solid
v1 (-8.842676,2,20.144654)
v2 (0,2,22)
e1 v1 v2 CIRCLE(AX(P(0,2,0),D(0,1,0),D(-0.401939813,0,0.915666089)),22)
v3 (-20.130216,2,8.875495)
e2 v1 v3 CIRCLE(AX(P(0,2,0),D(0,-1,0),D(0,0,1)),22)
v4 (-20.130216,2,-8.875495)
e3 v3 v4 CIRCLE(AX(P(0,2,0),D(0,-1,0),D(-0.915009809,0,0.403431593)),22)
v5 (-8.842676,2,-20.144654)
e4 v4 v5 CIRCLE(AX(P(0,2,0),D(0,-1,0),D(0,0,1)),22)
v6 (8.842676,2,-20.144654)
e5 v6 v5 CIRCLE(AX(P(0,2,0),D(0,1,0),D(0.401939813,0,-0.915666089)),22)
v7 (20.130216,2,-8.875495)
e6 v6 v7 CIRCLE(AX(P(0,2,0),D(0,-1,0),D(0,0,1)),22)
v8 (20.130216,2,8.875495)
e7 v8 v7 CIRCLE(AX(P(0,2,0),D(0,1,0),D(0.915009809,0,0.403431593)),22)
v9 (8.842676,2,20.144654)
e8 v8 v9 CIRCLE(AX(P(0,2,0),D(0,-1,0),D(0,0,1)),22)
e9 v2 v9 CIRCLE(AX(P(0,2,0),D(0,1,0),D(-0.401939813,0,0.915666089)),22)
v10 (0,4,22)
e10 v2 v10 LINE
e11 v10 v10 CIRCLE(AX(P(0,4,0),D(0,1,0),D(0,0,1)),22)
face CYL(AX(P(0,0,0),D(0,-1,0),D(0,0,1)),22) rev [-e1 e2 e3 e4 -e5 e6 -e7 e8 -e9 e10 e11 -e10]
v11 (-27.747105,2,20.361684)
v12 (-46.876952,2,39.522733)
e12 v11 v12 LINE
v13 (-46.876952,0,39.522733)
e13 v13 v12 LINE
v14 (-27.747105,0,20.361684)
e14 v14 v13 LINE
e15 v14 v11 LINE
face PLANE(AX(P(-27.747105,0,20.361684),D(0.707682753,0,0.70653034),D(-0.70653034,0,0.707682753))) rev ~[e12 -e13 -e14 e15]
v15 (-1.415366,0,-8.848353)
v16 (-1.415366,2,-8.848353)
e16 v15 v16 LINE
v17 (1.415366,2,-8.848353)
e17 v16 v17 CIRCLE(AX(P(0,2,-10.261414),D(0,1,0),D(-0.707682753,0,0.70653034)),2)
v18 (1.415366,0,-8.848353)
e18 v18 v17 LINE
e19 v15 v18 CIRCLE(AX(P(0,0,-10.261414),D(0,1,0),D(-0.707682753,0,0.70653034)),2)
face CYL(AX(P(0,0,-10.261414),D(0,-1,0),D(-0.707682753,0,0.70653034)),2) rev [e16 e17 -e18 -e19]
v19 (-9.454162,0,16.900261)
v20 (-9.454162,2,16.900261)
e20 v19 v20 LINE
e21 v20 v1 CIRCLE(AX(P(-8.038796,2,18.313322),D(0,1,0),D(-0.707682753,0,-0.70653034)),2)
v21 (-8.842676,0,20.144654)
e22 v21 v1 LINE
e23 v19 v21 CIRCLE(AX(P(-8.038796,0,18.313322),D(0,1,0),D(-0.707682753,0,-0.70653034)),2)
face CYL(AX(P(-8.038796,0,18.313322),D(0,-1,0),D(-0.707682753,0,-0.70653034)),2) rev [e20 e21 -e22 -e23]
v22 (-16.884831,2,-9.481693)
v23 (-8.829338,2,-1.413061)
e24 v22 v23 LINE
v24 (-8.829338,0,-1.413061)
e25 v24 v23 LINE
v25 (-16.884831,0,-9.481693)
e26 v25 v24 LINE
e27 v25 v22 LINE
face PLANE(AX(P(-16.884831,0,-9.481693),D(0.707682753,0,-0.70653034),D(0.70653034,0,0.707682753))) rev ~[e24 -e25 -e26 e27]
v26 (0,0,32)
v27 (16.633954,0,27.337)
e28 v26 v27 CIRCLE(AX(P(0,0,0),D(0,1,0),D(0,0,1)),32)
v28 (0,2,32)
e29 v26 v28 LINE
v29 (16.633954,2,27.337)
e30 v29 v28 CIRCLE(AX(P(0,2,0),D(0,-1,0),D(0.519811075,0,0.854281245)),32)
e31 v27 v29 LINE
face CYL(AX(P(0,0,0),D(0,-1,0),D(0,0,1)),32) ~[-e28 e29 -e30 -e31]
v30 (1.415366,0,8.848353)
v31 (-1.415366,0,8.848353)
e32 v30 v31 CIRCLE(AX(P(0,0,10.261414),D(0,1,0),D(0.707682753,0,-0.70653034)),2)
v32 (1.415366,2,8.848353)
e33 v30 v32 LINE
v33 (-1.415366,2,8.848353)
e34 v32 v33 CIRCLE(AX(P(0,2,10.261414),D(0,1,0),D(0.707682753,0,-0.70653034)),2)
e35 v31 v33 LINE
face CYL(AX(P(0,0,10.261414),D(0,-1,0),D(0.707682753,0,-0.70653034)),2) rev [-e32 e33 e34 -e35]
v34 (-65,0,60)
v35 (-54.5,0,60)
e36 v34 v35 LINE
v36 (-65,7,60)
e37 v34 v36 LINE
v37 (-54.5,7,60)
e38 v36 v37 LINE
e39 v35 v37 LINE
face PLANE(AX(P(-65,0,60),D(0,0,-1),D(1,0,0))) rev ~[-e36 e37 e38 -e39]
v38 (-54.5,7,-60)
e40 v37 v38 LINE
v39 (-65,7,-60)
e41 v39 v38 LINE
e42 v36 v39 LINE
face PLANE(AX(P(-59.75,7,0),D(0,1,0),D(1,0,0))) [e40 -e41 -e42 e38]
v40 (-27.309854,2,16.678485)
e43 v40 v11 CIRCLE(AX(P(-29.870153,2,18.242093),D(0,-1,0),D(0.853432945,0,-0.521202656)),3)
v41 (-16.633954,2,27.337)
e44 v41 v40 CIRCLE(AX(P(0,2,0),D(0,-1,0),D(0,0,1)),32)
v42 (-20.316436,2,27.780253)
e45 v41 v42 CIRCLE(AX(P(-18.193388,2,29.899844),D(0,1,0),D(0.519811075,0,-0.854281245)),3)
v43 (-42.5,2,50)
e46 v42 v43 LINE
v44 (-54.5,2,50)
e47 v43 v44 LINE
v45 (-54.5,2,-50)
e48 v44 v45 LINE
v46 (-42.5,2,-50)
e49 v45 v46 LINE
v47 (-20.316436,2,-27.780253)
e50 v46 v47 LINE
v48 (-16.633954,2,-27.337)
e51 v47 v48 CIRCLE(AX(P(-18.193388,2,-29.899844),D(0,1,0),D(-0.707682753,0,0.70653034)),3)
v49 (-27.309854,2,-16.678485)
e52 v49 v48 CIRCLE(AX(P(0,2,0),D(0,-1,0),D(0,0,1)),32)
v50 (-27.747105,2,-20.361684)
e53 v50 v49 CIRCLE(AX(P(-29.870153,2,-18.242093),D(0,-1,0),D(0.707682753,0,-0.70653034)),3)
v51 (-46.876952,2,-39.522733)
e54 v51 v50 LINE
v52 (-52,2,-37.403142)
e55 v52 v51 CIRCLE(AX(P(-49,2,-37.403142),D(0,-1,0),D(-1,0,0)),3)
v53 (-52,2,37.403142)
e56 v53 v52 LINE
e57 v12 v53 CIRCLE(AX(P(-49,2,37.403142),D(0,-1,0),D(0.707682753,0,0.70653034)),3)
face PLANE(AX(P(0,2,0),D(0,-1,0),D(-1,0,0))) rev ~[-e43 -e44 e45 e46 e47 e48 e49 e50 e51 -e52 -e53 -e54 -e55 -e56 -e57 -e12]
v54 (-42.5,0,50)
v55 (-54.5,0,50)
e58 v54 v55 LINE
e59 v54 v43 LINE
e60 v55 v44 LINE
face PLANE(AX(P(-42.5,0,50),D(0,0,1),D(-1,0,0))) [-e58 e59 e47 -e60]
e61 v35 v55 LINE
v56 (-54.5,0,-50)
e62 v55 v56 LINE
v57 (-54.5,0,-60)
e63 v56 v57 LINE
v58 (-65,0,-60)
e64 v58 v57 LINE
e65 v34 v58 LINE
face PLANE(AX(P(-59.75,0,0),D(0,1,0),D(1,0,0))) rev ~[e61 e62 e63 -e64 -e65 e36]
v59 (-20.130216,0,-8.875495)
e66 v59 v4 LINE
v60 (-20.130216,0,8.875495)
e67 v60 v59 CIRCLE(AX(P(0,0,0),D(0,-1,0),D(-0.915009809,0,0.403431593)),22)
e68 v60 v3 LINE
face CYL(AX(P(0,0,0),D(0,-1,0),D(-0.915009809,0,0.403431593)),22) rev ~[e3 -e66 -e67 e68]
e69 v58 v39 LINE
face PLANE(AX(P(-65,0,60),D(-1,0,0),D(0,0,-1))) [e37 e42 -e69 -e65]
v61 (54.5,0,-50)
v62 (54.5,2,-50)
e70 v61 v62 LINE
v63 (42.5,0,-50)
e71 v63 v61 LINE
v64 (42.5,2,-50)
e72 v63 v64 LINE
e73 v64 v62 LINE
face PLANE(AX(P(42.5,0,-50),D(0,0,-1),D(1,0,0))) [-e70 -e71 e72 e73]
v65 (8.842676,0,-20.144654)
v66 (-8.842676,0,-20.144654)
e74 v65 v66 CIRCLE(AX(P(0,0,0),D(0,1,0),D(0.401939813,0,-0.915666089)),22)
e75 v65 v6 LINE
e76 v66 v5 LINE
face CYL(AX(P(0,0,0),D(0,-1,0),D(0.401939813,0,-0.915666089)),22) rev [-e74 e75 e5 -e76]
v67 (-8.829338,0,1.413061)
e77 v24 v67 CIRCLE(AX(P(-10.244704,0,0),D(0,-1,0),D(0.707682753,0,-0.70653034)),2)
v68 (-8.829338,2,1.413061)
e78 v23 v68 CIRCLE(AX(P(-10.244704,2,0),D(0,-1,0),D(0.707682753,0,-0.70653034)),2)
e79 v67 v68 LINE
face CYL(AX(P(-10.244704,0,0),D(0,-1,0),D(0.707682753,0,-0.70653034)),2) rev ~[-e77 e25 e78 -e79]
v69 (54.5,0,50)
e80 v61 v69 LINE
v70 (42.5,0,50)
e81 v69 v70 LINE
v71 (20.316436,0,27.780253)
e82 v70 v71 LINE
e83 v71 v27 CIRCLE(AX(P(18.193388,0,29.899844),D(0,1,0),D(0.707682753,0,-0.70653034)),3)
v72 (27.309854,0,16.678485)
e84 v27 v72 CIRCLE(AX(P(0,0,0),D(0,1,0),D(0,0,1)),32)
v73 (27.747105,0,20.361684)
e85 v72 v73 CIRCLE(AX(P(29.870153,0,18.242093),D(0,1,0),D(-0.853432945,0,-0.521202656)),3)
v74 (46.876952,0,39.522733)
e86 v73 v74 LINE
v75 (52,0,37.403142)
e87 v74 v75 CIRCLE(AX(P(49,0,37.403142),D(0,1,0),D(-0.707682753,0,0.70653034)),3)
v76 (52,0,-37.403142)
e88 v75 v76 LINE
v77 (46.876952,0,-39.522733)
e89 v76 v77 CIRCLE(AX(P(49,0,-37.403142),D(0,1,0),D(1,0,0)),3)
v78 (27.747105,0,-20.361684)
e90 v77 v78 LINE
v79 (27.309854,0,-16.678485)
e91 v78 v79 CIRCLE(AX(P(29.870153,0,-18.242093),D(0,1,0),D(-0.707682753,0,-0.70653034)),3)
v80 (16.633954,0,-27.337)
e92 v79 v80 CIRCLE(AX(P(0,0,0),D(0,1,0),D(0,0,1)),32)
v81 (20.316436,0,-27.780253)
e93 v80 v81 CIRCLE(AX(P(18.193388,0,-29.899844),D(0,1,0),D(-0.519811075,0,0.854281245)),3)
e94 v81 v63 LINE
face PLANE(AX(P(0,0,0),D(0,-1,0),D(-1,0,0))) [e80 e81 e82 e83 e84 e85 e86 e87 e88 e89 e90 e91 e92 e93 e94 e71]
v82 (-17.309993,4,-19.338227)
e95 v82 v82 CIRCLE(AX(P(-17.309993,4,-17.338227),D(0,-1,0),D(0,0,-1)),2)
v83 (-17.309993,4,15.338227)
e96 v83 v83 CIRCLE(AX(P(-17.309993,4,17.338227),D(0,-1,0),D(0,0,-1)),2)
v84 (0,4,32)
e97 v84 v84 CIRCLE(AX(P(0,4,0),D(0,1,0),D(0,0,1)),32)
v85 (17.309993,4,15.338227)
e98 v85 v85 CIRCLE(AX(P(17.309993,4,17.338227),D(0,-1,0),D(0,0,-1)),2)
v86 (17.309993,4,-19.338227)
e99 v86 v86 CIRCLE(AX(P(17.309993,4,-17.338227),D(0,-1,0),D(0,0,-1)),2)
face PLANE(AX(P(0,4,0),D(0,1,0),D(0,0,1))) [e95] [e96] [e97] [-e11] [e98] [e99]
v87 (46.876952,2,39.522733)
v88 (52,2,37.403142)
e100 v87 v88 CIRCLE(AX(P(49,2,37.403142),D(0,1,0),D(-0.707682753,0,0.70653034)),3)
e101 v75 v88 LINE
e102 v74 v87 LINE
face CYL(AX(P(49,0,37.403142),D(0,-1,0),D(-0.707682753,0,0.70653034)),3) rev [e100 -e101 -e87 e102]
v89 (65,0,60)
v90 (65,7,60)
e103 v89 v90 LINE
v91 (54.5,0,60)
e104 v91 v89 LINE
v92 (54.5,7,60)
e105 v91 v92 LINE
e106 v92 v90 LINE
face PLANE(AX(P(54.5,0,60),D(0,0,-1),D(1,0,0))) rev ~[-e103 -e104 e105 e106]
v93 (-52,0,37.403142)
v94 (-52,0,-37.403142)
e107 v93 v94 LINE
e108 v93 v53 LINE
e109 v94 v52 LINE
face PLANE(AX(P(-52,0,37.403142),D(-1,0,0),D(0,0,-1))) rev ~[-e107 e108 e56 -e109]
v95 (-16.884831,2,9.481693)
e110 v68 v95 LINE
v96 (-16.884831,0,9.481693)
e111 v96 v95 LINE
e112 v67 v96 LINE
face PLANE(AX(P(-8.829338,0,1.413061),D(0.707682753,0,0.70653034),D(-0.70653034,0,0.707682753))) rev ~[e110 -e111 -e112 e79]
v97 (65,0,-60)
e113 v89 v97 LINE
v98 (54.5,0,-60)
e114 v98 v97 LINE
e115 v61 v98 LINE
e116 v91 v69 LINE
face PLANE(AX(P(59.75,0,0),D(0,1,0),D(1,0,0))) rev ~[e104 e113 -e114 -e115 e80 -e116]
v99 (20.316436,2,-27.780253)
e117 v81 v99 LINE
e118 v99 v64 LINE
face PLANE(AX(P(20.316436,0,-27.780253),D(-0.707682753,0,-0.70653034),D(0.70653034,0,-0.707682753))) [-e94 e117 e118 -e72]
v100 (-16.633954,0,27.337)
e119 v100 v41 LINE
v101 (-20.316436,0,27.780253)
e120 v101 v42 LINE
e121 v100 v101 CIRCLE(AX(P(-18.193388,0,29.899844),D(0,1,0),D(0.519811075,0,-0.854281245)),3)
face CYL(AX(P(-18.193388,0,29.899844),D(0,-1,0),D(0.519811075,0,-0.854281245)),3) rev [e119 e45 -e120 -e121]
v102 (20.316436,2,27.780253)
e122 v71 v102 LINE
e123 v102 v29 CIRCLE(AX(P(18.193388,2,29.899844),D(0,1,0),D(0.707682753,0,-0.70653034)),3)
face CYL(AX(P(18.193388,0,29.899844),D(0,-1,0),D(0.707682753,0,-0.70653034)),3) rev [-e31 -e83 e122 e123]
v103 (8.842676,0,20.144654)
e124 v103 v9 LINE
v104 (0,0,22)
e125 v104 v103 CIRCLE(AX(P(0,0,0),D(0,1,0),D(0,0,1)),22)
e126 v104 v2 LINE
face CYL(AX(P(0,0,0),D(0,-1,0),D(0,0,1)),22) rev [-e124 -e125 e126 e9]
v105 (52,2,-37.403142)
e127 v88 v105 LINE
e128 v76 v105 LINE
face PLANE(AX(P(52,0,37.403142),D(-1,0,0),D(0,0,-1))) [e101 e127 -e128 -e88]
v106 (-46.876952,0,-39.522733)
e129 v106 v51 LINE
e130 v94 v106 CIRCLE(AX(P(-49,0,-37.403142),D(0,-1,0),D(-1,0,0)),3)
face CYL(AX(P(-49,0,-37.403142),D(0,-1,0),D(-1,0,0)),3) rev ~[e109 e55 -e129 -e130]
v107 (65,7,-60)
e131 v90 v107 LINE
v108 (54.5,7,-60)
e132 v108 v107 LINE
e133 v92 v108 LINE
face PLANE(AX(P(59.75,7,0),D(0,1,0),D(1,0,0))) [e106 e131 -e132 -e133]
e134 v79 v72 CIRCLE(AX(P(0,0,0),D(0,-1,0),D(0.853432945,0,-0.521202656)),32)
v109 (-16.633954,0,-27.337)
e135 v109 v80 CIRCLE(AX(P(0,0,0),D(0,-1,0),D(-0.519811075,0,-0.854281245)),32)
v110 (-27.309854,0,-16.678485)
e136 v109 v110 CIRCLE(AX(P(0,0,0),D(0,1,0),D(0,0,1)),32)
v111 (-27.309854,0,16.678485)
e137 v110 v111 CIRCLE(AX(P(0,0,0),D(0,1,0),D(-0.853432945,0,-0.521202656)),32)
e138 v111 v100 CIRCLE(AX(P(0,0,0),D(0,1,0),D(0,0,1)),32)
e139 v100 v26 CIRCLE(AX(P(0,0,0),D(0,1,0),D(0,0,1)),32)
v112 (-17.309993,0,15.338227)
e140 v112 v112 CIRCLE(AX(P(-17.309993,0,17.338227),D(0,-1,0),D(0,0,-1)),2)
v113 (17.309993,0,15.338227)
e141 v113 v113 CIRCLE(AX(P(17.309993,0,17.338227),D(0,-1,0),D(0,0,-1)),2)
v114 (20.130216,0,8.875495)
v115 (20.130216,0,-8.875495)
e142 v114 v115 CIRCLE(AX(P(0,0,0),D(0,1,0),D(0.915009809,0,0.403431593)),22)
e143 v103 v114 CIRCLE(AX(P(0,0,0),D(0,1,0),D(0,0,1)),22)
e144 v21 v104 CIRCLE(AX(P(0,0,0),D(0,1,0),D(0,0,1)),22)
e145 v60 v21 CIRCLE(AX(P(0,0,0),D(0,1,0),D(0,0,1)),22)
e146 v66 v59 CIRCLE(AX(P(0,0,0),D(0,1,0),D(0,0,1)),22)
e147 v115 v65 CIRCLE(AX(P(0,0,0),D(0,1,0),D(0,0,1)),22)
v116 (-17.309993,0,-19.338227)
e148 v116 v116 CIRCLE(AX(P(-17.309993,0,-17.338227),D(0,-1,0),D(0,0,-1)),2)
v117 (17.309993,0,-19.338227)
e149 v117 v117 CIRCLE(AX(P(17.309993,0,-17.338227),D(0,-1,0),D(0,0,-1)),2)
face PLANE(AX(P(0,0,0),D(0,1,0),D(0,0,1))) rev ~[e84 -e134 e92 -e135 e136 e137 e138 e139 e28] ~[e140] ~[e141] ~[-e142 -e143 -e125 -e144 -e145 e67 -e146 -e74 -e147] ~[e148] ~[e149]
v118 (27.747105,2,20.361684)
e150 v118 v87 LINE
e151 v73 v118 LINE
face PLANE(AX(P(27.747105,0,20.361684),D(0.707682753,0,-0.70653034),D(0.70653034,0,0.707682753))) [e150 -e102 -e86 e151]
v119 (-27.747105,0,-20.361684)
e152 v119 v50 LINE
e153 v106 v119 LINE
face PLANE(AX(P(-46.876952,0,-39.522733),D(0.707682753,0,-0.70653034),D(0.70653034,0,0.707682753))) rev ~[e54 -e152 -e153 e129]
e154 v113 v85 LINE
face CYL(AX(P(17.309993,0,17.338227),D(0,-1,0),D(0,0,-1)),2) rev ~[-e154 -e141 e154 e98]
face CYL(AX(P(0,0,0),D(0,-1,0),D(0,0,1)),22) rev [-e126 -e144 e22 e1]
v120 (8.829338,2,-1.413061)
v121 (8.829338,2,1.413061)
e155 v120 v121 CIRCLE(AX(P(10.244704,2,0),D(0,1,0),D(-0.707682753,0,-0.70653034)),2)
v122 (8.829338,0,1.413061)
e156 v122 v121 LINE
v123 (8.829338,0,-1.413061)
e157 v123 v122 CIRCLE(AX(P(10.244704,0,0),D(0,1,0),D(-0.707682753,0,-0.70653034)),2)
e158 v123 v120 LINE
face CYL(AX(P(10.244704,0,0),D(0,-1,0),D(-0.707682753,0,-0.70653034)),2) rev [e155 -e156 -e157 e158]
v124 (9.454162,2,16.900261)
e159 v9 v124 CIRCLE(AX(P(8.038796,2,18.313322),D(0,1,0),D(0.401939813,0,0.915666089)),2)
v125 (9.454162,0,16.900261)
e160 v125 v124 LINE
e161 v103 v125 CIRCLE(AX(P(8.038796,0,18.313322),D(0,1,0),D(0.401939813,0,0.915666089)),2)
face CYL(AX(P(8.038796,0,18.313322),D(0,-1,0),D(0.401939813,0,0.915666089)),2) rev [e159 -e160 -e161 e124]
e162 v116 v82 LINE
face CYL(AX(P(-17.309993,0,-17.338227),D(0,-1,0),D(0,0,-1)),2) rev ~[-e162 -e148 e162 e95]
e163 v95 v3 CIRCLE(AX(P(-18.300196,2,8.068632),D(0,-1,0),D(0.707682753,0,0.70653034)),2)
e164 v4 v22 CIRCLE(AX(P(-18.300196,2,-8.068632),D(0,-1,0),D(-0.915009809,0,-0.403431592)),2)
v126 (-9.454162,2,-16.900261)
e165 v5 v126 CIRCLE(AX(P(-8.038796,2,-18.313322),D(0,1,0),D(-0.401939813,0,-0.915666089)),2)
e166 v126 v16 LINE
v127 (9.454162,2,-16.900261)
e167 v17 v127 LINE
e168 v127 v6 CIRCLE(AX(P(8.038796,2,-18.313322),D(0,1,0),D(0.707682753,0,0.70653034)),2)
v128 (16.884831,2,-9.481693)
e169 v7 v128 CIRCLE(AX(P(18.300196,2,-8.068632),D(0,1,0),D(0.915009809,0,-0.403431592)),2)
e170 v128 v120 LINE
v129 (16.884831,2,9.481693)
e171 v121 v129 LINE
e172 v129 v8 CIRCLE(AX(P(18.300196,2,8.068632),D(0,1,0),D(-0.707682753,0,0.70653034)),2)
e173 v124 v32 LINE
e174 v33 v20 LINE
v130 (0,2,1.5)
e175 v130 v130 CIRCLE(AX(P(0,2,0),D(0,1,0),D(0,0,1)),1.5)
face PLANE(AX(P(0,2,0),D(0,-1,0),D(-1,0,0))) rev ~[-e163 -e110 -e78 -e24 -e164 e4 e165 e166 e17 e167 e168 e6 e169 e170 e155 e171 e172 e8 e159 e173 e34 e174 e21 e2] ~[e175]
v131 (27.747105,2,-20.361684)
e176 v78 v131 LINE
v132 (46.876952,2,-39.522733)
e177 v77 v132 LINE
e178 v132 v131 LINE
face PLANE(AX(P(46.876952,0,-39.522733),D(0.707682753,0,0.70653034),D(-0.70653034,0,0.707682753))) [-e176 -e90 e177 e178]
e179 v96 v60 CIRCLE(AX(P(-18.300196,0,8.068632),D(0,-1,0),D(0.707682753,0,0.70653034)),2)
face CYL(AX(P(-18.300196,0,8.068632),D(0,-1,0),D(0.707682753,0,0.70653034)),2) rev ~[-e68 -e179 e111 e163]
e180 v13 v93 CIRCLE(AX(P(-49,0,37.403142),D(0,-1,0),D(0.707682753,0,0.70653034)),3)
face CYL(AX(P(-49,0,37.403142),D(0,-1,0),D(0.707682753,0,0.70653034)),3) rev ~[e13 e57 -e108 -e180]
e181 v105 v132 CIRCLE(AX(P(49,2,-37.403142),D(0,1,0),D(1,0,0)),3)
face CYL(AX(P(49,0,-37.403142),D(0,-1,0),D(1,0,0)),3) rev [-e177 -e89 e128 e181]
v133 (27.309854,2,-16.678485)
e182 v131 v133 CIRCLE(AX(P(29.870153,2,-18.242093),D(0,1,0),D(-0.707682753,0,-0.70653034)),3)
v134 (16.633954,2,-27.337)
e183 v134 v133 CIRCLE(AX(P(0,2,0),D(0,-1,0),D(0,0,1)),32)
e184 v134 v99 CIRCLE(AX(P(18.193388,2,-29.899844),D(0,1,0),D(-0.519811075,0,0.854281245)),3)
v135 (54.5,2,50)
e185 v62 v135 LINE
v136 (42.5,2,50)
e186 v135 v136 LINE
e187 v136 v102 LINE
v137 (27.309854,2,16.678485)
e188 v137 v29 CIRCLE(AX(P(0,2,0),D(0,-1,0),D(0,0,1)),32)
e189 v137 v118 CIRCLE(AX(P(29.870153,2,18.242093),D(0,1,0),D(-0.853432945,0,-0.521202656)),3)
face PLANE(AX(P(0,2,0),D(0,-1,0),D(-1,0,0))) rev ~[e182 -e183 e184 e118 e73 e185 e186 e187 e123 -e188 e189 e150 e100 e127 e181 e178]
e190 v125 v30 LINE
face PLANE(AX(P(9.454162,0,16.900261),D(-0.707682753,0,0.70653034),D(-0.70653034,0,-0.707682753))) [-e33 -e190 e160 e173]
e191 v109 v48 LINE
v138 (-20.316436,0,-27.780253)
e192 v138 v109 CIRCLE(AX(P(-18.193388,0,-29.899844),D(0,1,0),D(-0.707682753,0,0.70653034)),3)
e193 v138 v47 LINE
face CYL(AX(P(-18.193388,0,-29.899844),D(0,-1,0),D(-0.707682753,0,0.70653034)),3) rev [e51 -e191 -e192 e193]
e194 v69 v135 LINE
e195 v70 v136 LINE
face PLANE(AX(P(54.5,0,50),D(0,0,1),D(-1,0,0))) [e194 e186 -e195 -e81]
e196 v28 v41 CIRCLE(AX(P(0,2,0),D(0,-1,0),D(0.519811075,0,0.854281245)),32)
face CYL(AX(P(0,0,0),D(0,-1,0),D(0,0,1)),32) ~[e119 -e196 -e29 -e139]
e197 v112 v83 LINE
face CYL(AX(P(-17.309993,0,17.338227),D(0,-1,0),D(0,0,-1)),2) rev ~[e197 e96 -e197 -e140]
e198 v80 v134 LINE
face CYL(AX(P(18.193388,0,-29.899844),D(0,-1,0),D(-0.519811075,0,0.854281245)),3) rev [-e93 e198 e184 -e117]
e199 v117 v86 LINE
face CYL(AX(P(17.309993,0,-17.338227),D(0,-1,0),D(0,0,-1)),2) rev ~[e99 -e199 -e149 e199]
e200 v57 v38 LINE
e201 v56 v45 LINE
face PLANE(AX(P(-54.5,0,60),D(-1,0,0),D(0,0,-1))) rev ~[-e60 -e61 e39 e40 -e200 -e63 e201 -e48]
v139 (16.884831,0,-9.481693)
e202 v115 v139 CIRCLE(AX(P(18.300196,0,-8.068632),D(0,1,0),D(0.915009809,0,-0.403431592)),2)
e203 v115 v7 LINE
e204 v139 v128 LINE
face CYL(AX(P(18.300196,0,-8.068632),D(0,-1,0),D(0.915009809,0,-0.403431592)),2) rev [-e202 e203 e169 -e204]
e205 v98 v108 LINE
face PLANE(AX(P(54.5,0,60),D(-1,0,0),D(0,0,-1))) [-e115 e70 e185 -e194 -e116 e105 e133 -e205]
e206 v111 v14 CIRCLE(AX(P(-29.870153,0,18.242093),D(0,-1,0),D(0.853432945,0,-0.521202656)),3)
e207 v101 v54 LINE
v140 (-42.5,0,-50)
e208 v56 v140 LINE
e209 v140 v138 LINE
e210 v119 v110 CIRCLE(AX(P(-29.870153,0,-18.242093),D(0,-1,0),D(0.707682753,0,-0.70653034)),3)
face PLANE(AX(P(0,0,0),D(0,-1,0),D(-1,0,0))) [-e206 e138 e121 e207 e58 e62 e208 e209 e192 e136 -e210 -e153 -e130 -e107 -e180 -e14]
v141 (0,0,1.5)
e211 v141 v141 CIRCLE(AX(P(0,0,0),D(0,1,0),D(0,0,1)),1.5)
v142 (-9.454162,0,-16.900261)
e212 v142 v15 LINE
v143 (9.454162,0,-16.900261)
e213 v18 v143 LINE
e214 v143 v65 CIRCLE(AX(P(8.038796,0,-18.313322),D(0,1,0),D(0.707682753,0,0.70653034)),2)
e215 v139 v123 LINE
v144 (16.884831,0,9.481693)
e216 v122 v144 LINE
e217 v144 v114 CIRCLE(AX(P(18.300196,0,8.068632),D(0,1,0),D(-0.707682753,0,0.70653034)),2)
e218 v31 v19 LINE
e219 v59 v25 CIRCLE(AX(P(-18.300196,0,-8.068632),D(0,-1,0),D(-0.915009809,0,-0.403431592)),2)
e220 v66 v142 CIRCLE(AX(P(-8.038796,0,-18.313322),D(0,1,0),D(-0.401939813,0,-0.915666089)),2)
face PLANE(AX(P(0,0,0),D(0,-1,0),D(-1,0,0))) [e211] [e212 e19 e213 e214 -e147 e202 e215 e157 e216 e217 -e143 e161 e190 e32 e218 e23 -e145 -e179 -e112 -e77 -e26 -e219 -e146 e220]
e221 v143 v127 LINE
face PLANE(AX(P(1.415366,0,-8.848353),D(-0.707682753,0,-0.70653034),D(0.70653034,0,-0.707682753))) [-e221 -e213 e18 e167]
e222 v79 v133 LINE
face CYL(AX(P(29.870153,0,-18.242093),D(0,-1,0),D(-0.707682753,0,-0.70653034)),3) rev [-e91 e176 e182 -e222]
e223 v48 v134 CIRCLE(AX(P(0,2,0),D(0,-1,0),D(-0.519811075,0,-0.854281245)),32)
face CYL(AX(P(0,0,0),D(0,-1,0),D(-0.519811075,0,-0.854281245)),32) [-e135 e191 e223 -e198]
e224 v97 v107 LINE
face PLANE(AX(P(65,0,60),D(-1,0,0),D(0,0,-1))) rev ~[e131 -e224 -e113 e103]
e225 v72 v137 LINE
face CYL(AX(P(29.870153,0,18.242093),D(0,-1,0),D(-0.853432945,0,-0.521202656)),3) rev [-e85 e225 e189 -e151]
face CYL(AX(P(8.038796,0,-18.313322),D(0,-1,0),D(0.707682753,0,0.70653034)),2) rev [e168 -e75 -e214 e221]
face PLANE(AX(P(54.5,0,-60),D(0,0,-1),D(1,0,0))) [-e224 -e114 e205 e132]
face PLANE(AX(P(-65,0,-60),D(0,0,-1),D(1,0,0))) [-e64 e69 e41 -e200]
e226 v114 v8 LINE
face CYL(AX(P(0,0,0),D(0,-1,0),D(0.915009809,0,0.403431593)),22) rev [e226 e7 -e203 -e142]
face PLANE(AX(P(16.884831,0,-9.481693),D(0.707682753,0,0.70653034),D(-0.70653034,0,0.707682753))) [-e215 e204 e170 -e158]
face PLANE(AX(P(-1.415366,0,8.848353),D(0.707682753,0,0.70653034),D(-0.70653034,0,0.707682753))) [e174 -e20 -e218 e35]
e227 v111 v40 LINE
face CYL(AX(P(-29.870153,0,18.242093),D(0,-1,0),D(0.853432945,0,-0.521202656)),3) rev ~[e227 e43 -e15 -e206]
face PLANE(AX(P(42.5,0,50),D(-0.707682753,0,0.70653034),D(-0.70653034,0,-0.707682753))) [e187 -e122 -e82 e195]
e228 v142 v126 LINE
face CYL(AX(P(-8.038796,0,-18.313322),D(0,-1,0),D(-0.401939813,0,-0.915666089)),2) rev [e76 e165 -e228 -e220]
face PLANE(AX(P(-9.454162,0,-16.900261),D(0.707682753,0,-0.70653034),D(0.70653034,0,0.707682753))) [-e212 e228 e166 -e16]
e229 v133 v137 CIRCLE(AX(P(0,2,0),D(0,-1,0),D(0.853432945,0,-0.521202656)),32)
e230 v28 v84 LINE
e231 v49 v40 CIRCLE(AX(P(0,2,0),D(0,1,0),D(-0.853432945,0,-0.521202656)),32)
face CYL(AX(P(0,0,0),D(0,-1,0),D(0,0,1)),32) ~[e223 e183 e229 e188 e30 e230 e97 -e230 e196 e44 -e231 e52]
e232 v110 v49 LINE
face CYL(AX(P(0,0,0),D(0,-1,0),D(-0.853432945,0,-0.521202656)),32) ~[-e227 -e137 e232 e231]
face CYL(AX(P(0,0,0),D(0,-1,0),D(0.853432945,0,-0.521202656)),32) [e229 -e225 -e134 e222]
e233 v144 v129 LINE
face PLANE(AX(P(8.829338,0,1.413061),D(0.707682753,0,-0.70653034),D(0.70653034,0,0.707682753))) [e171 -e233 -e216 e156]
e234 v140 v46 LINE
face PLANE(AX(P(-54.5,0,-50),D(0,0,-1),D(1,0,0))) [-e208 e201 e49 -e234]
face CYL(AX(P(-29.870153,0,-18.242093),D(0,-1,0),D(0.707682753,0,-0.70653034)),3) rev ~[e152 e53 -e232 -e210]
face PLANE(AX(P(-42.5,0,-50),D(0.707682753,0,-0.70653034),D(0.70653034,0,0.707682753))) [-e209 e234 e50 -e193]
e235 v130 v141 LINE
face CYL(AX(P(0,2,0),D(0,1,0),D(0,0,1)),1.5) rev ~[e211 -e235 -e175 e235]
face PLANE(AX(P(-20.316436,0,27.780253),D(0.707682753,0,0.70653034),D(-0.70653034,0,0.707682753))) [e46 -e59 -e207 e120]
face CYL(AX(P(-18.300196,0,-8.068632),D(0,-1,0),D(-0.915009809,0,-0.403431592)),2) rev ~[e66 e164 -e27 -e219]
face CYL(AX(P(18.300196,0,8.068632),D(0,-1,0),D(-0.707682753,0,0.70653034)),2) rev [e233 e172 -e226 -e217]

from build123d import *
from build123d.topology import SkipClean

# Parameters (mm, degrees)
SKETCH1_R             = 32
SKETCH1_R_2           = 22
BOSS_EXTRUDE2_DEPTH   = 4
SKETCH3_W             = 10.5
SKETCH3_H             = 120
BOSS_EXTRUDE4_DEPTH   = 7
BOSS_EXTRUDE4_2_DEPTH = 7
BOSS_EXTRUDE5_DEPTH   = 2
SKETCH5_R             = 1.5
CUT_EXTRUDE1_DEPTH    = 4
SKETCH6_R             = 2
CUT_EXTRUDE2_DEPTH    = 4


with BuildPart() as part:
    # Sketch1 → Boss-Extrude2 (new body)
    with BuildSketch(Plane(origin=(0, 0, 0), x_dir=(1, 0, 0), z_dir=(0, 1, 0))):
        with Locations(Location((0, 0, 0), (0, 0, 270))):
            Circle(SKETCH1_R)
        with Locations(Location((0, 0, 0), (0, 0, 270))):
            Circle(SKETCH1_R_2, mode=Mode.SUBTRACT)
    extrude(amount=BOSS_EXTRUDE2_DEPTH)



with BuildPart() as body_2:
    # Sketch3 → Boss-Extrude4 (new body)
    with BuildSketch(Plane(origin=(0, 0, 0), x_dir=(1, 0, 0), z_dir=(0, 1, 0))):
        with Locations((-59.75, 0)):
            Rectangle(SKETCH3_W, SKETCH3_H)
    extrude(amount=BOSS_EXTRUDE4_DEPTH)


with BuildPart() as body_3:
    # Sketch3 → Boss-Extrude4 2 (new body)
    with BuildSketch(Plane(origin=(0, 0, 0), x_dir=(1, 0, 0), z_dir=(0, 1, 0))):
        with Locations((59.75, 0)):
            Rectangle(SKETCH3_W, SKETCH3_H)
    extrude(amount=BOSS_EXTRUDE4_2_DEPTH)


with BuildPart() as part_1:
    with SkipClean():  # the faces are left unmerged after this step: merging them gives an invalid solid
        add(part.part)

        add(body_2.part)  # Boss-Extrude5 merges body 2

        add(body_3.part)  # Boss-Extrude5 merges body 3
        # Sketch4 → Boss-Extrude5 (add)
        with BuildSketch(Plane(origin=(0, 0, 0), x_dir=(1, 0, 0), z_dir=(0, 1, 0))):
            with BuildLine():
                Line((-54.5, 50), (-42.5, 50))
                Line((-42.5, 50), (-20.316435899, 27.780252561))
                ThreePointArc((-20.316435899, 27.780252561), (-18.551903635, 26.921342904), (-16.633954414, 27.336999845))
                ThreePointArc((-16.633954414, 27.336999845), (0, 32), (16.633954414, 27.336999845))
                ThreePointArc((16.633954414, 27.336999845), (18.551903635, 26.921342904), (20.316435899, 27.780252561))
                Line((20.316435899, 27.780252561), (42.5, 50))
                Line((42.5, 50), (54.5, 50))
                Line((54.5, 50), (54.5, -50))
                Line((54.5, -50), (42.5, -50))
                Line((42.5, -50), (20.316435899, -27.780252561))
                ThreePointArc((20.316435899, -27.780252561), (18.551903635, -26.921342904), (16.633954414, -27.336999845))
                ThreePointArc((16.633954414, -27.336999845), (0, -32), (-16.633954414, -27.336999845))
                ThreePointArc((-16.633954414, -27.336999845), (-18.551903635, -26.921342904), (-20.316435899, -27.780252561))
                Line((-20.316435899, -27.780252561), (-42.5, -50))
                Line((-42.5, -50), (-54.5, -50))
                Line((-54.5, -50), (-54.5, 50))
            make_face()
            with BuildLine():
                Line((-52, -37.403142366), (-52, 37.403142366))
                ThreePointArc((-52, 37.403142366), (-50.146920927, 40.175248495), (-46.876951741, 39.522733386))
                Line((-46.876951741, 39.522733386), (-27.747104804, 20.361683992))
                ThreePointArc((-27.747104804, 20.361683992), (-26.891072048, 18.595754257), (-27.309854229, 16.678485003))
                ThreePointArc((-27.309854229, 16.678485003), (-32, 0), (-27.309854229, -16.678485003))
                ThreePointArc((-27.309854229, -16.678485003), (-26.891072048, -18.595754257), (-27.747104804, -20.361683992))
                Line((-27.747104804, -20.361683992), (-46.876951741, -39.522733386))
                ThreePointArc((-46.876951741, -39.522733386), (-50.146920927, -40.175248495), (-52, -37.403142366))
            make_face(mode=Mode.SUBTRACT)
            with BuildLine():
                Line((52, -37.403142366), (52, 37.403142366))
                ThreePointArc((52, 37.403142366), (50.146920927, 40.175248495), (46.876951741, 39.522733386))
                Line((46.876951741, 39.522733386), (27.747104804, 20.361683992))
                ThreePointArc((27.747104804, 20.361683992), (26.891072048, 18.595754257), (27.309854229, 16.678485003))
                ThreePointArc((27.309854229, 16.678485003), (32, 0), (27.309854229, -16.678485003))
                ThreePointArc((27.309854229, -16.678485003), (26.891072048, -18.595754257), (27.747104804, -20.361683992))
                Line((27.747104804, -20.361683992), (46.876951741, -39.522733386))
                ThreePointArc((46.876951741, -39.522733386), (50.146920927, -40.175248495), (52, -37.403142366))
            make_face(mode=Mode.SUBTRACT)
            with BuildLine():
                Line((-8.829338029, -1.41306068), (-16.884830668, -9.481692534))
                ThreePointArc((-16.884830668, -9.481692534), (-18.667420028, -10.034629474), (-20.130215791, -8.875495039))
                ThreePointArc((-20.130215791, -8.875495039), (-22, 0), (-20.130215791, 8.875495039))
                ThreePointArc((-20.130215791, 8.875495039), (-18.667420028, 10.034629474), (-16.884830668, 9.481692534))
                Line((-16.884830668, 9.481692534), (-8.829338029, 1.41306068))
                ThreePointArc((-8.829338029, 1.41306068), (-8.244703535, 0), (-8.829338029, -1.41306068))
            make_face(mode=Mode.SUBTRACT)
            with BuildLine():
                Line((8.829338029, -1.41306068), (16.884830668, -9.481692534))
                ThreePointArc((16.884830668, -9.481692534), (18.667420028, -10.034629474), (20.130215791, -8.875495039))
                ThreePointArc((20.130215791, -8.875495039), (22, 0), (20.130215791, 8.875495039))
                ThreePointArc((20.130215791, 8.875495039), (18.667420028, 10.034629474), (16.884830668, 9.481692534))
                Line((16.884830668, 9.481692534), (8.829338029, 1.41306068))
                ThreePointArc((8.829338029, 1.41306068), (8.244703535, 0), (8.829338029, -1.41306068))
            make_face(mode=Mode.SUBTRACT)
            with BuildLine():
                Line((-9.454161763, 16.900261103), (-1.415365506, 8.848352865))
                ThreePointArc((-1.415365506, 8.848352865), (0, 8.261413545), (1.415365506, 8.848352865))
                Line((1.415365506, 8.848352865), (9.454161763, 16.900261103))
                ThreePointArc((9.454161763, 16.900261103), (10.00419278, 18.683749248), (8.842675883, 20.144653962))
                ThreePointArc((8.842675883, 20.144653962), (0, 22), (-8.842675883, 20.144653962))
                ThreePointArc((-8.842675883, 20.144653962), (-10.00419278, 18.683749248), (-9.454161763, 16.900261103))
            make_face(mode=Mode.SUBTRACT)
            with BuildLine():
                Line((9.454161763, -16.900261103), (1.415365506, -8.848352865))
                ThreePointArc((1.415365506, -8.848352865), (0, -8.261413545), (-1.415365506, -8.848352865))
                Line((-1.415365506, -8.848352865), (-9.454161763, -16.900261103))
                ThreePointArc((-9.454161763, -16.900261103), (-10.00419278, -18.683749248), (-8.842675883, -20.144653962))
                ThreePointArc((-8.842675883, -20.144653962), (0, -22), (8.842675883, -20.144653962))
                ThreePointArc((8.842675883, -20.144653962), (10.00419278, -18.683749248), (9.454161763, -16.900261103))
            make_face(mode=Mode.SUBTRACT)
        extrude(amount=BOSS_EXTRUDE5_DEPTH)

    # Sketch5 → Cut-Extrude1 (cut)
    with SkipClean():  # the faces are left unmerged after this step: merging them gives an invalid solid
        with BuildSketch(Plane(origin=(0, 2, 0), x_dir=(1, 0, 0), z_dir=(0, 1, 0))):
            with Locations(Location((0, 0, 0), (0, 0, 270))):
                Circle(SKETCH5_R)
        extrude(amount=-CUT_EXTRUDE1_DEPTH, mode=Mode.SUBTRACT)

    # Sketch6 → Cut-Extrude2 (cut)
    with SkipClean():  # the faces are left unmerged after this step: merging them gives an invalid solid
        with BuildSketch(Plane.XZ):
            with Locations(Location((-17.309993329, -17.338227446, 0), (0, 0, 270))):
                Circle(SKETCH6_R)
            with Locations(Location((17.309993329, -17.338227446, 0), (0, 0, 270))):
                Circle(SKETCH6_R)
            with Locations(Location((17.309993329, 17.338227446, 0), (0, 0, 270))):
                Circle(SKETCH6_R)
            with Locations(Location((-17.309993329, 17.338227446, 0), (0, 0, 270))):
                Circle(SKETCH6_R)
        extrude(amount=-CUT_EXTRUDE2_DEPTH, mode=Mode.SUBTRACT)


solid = part_1.part
